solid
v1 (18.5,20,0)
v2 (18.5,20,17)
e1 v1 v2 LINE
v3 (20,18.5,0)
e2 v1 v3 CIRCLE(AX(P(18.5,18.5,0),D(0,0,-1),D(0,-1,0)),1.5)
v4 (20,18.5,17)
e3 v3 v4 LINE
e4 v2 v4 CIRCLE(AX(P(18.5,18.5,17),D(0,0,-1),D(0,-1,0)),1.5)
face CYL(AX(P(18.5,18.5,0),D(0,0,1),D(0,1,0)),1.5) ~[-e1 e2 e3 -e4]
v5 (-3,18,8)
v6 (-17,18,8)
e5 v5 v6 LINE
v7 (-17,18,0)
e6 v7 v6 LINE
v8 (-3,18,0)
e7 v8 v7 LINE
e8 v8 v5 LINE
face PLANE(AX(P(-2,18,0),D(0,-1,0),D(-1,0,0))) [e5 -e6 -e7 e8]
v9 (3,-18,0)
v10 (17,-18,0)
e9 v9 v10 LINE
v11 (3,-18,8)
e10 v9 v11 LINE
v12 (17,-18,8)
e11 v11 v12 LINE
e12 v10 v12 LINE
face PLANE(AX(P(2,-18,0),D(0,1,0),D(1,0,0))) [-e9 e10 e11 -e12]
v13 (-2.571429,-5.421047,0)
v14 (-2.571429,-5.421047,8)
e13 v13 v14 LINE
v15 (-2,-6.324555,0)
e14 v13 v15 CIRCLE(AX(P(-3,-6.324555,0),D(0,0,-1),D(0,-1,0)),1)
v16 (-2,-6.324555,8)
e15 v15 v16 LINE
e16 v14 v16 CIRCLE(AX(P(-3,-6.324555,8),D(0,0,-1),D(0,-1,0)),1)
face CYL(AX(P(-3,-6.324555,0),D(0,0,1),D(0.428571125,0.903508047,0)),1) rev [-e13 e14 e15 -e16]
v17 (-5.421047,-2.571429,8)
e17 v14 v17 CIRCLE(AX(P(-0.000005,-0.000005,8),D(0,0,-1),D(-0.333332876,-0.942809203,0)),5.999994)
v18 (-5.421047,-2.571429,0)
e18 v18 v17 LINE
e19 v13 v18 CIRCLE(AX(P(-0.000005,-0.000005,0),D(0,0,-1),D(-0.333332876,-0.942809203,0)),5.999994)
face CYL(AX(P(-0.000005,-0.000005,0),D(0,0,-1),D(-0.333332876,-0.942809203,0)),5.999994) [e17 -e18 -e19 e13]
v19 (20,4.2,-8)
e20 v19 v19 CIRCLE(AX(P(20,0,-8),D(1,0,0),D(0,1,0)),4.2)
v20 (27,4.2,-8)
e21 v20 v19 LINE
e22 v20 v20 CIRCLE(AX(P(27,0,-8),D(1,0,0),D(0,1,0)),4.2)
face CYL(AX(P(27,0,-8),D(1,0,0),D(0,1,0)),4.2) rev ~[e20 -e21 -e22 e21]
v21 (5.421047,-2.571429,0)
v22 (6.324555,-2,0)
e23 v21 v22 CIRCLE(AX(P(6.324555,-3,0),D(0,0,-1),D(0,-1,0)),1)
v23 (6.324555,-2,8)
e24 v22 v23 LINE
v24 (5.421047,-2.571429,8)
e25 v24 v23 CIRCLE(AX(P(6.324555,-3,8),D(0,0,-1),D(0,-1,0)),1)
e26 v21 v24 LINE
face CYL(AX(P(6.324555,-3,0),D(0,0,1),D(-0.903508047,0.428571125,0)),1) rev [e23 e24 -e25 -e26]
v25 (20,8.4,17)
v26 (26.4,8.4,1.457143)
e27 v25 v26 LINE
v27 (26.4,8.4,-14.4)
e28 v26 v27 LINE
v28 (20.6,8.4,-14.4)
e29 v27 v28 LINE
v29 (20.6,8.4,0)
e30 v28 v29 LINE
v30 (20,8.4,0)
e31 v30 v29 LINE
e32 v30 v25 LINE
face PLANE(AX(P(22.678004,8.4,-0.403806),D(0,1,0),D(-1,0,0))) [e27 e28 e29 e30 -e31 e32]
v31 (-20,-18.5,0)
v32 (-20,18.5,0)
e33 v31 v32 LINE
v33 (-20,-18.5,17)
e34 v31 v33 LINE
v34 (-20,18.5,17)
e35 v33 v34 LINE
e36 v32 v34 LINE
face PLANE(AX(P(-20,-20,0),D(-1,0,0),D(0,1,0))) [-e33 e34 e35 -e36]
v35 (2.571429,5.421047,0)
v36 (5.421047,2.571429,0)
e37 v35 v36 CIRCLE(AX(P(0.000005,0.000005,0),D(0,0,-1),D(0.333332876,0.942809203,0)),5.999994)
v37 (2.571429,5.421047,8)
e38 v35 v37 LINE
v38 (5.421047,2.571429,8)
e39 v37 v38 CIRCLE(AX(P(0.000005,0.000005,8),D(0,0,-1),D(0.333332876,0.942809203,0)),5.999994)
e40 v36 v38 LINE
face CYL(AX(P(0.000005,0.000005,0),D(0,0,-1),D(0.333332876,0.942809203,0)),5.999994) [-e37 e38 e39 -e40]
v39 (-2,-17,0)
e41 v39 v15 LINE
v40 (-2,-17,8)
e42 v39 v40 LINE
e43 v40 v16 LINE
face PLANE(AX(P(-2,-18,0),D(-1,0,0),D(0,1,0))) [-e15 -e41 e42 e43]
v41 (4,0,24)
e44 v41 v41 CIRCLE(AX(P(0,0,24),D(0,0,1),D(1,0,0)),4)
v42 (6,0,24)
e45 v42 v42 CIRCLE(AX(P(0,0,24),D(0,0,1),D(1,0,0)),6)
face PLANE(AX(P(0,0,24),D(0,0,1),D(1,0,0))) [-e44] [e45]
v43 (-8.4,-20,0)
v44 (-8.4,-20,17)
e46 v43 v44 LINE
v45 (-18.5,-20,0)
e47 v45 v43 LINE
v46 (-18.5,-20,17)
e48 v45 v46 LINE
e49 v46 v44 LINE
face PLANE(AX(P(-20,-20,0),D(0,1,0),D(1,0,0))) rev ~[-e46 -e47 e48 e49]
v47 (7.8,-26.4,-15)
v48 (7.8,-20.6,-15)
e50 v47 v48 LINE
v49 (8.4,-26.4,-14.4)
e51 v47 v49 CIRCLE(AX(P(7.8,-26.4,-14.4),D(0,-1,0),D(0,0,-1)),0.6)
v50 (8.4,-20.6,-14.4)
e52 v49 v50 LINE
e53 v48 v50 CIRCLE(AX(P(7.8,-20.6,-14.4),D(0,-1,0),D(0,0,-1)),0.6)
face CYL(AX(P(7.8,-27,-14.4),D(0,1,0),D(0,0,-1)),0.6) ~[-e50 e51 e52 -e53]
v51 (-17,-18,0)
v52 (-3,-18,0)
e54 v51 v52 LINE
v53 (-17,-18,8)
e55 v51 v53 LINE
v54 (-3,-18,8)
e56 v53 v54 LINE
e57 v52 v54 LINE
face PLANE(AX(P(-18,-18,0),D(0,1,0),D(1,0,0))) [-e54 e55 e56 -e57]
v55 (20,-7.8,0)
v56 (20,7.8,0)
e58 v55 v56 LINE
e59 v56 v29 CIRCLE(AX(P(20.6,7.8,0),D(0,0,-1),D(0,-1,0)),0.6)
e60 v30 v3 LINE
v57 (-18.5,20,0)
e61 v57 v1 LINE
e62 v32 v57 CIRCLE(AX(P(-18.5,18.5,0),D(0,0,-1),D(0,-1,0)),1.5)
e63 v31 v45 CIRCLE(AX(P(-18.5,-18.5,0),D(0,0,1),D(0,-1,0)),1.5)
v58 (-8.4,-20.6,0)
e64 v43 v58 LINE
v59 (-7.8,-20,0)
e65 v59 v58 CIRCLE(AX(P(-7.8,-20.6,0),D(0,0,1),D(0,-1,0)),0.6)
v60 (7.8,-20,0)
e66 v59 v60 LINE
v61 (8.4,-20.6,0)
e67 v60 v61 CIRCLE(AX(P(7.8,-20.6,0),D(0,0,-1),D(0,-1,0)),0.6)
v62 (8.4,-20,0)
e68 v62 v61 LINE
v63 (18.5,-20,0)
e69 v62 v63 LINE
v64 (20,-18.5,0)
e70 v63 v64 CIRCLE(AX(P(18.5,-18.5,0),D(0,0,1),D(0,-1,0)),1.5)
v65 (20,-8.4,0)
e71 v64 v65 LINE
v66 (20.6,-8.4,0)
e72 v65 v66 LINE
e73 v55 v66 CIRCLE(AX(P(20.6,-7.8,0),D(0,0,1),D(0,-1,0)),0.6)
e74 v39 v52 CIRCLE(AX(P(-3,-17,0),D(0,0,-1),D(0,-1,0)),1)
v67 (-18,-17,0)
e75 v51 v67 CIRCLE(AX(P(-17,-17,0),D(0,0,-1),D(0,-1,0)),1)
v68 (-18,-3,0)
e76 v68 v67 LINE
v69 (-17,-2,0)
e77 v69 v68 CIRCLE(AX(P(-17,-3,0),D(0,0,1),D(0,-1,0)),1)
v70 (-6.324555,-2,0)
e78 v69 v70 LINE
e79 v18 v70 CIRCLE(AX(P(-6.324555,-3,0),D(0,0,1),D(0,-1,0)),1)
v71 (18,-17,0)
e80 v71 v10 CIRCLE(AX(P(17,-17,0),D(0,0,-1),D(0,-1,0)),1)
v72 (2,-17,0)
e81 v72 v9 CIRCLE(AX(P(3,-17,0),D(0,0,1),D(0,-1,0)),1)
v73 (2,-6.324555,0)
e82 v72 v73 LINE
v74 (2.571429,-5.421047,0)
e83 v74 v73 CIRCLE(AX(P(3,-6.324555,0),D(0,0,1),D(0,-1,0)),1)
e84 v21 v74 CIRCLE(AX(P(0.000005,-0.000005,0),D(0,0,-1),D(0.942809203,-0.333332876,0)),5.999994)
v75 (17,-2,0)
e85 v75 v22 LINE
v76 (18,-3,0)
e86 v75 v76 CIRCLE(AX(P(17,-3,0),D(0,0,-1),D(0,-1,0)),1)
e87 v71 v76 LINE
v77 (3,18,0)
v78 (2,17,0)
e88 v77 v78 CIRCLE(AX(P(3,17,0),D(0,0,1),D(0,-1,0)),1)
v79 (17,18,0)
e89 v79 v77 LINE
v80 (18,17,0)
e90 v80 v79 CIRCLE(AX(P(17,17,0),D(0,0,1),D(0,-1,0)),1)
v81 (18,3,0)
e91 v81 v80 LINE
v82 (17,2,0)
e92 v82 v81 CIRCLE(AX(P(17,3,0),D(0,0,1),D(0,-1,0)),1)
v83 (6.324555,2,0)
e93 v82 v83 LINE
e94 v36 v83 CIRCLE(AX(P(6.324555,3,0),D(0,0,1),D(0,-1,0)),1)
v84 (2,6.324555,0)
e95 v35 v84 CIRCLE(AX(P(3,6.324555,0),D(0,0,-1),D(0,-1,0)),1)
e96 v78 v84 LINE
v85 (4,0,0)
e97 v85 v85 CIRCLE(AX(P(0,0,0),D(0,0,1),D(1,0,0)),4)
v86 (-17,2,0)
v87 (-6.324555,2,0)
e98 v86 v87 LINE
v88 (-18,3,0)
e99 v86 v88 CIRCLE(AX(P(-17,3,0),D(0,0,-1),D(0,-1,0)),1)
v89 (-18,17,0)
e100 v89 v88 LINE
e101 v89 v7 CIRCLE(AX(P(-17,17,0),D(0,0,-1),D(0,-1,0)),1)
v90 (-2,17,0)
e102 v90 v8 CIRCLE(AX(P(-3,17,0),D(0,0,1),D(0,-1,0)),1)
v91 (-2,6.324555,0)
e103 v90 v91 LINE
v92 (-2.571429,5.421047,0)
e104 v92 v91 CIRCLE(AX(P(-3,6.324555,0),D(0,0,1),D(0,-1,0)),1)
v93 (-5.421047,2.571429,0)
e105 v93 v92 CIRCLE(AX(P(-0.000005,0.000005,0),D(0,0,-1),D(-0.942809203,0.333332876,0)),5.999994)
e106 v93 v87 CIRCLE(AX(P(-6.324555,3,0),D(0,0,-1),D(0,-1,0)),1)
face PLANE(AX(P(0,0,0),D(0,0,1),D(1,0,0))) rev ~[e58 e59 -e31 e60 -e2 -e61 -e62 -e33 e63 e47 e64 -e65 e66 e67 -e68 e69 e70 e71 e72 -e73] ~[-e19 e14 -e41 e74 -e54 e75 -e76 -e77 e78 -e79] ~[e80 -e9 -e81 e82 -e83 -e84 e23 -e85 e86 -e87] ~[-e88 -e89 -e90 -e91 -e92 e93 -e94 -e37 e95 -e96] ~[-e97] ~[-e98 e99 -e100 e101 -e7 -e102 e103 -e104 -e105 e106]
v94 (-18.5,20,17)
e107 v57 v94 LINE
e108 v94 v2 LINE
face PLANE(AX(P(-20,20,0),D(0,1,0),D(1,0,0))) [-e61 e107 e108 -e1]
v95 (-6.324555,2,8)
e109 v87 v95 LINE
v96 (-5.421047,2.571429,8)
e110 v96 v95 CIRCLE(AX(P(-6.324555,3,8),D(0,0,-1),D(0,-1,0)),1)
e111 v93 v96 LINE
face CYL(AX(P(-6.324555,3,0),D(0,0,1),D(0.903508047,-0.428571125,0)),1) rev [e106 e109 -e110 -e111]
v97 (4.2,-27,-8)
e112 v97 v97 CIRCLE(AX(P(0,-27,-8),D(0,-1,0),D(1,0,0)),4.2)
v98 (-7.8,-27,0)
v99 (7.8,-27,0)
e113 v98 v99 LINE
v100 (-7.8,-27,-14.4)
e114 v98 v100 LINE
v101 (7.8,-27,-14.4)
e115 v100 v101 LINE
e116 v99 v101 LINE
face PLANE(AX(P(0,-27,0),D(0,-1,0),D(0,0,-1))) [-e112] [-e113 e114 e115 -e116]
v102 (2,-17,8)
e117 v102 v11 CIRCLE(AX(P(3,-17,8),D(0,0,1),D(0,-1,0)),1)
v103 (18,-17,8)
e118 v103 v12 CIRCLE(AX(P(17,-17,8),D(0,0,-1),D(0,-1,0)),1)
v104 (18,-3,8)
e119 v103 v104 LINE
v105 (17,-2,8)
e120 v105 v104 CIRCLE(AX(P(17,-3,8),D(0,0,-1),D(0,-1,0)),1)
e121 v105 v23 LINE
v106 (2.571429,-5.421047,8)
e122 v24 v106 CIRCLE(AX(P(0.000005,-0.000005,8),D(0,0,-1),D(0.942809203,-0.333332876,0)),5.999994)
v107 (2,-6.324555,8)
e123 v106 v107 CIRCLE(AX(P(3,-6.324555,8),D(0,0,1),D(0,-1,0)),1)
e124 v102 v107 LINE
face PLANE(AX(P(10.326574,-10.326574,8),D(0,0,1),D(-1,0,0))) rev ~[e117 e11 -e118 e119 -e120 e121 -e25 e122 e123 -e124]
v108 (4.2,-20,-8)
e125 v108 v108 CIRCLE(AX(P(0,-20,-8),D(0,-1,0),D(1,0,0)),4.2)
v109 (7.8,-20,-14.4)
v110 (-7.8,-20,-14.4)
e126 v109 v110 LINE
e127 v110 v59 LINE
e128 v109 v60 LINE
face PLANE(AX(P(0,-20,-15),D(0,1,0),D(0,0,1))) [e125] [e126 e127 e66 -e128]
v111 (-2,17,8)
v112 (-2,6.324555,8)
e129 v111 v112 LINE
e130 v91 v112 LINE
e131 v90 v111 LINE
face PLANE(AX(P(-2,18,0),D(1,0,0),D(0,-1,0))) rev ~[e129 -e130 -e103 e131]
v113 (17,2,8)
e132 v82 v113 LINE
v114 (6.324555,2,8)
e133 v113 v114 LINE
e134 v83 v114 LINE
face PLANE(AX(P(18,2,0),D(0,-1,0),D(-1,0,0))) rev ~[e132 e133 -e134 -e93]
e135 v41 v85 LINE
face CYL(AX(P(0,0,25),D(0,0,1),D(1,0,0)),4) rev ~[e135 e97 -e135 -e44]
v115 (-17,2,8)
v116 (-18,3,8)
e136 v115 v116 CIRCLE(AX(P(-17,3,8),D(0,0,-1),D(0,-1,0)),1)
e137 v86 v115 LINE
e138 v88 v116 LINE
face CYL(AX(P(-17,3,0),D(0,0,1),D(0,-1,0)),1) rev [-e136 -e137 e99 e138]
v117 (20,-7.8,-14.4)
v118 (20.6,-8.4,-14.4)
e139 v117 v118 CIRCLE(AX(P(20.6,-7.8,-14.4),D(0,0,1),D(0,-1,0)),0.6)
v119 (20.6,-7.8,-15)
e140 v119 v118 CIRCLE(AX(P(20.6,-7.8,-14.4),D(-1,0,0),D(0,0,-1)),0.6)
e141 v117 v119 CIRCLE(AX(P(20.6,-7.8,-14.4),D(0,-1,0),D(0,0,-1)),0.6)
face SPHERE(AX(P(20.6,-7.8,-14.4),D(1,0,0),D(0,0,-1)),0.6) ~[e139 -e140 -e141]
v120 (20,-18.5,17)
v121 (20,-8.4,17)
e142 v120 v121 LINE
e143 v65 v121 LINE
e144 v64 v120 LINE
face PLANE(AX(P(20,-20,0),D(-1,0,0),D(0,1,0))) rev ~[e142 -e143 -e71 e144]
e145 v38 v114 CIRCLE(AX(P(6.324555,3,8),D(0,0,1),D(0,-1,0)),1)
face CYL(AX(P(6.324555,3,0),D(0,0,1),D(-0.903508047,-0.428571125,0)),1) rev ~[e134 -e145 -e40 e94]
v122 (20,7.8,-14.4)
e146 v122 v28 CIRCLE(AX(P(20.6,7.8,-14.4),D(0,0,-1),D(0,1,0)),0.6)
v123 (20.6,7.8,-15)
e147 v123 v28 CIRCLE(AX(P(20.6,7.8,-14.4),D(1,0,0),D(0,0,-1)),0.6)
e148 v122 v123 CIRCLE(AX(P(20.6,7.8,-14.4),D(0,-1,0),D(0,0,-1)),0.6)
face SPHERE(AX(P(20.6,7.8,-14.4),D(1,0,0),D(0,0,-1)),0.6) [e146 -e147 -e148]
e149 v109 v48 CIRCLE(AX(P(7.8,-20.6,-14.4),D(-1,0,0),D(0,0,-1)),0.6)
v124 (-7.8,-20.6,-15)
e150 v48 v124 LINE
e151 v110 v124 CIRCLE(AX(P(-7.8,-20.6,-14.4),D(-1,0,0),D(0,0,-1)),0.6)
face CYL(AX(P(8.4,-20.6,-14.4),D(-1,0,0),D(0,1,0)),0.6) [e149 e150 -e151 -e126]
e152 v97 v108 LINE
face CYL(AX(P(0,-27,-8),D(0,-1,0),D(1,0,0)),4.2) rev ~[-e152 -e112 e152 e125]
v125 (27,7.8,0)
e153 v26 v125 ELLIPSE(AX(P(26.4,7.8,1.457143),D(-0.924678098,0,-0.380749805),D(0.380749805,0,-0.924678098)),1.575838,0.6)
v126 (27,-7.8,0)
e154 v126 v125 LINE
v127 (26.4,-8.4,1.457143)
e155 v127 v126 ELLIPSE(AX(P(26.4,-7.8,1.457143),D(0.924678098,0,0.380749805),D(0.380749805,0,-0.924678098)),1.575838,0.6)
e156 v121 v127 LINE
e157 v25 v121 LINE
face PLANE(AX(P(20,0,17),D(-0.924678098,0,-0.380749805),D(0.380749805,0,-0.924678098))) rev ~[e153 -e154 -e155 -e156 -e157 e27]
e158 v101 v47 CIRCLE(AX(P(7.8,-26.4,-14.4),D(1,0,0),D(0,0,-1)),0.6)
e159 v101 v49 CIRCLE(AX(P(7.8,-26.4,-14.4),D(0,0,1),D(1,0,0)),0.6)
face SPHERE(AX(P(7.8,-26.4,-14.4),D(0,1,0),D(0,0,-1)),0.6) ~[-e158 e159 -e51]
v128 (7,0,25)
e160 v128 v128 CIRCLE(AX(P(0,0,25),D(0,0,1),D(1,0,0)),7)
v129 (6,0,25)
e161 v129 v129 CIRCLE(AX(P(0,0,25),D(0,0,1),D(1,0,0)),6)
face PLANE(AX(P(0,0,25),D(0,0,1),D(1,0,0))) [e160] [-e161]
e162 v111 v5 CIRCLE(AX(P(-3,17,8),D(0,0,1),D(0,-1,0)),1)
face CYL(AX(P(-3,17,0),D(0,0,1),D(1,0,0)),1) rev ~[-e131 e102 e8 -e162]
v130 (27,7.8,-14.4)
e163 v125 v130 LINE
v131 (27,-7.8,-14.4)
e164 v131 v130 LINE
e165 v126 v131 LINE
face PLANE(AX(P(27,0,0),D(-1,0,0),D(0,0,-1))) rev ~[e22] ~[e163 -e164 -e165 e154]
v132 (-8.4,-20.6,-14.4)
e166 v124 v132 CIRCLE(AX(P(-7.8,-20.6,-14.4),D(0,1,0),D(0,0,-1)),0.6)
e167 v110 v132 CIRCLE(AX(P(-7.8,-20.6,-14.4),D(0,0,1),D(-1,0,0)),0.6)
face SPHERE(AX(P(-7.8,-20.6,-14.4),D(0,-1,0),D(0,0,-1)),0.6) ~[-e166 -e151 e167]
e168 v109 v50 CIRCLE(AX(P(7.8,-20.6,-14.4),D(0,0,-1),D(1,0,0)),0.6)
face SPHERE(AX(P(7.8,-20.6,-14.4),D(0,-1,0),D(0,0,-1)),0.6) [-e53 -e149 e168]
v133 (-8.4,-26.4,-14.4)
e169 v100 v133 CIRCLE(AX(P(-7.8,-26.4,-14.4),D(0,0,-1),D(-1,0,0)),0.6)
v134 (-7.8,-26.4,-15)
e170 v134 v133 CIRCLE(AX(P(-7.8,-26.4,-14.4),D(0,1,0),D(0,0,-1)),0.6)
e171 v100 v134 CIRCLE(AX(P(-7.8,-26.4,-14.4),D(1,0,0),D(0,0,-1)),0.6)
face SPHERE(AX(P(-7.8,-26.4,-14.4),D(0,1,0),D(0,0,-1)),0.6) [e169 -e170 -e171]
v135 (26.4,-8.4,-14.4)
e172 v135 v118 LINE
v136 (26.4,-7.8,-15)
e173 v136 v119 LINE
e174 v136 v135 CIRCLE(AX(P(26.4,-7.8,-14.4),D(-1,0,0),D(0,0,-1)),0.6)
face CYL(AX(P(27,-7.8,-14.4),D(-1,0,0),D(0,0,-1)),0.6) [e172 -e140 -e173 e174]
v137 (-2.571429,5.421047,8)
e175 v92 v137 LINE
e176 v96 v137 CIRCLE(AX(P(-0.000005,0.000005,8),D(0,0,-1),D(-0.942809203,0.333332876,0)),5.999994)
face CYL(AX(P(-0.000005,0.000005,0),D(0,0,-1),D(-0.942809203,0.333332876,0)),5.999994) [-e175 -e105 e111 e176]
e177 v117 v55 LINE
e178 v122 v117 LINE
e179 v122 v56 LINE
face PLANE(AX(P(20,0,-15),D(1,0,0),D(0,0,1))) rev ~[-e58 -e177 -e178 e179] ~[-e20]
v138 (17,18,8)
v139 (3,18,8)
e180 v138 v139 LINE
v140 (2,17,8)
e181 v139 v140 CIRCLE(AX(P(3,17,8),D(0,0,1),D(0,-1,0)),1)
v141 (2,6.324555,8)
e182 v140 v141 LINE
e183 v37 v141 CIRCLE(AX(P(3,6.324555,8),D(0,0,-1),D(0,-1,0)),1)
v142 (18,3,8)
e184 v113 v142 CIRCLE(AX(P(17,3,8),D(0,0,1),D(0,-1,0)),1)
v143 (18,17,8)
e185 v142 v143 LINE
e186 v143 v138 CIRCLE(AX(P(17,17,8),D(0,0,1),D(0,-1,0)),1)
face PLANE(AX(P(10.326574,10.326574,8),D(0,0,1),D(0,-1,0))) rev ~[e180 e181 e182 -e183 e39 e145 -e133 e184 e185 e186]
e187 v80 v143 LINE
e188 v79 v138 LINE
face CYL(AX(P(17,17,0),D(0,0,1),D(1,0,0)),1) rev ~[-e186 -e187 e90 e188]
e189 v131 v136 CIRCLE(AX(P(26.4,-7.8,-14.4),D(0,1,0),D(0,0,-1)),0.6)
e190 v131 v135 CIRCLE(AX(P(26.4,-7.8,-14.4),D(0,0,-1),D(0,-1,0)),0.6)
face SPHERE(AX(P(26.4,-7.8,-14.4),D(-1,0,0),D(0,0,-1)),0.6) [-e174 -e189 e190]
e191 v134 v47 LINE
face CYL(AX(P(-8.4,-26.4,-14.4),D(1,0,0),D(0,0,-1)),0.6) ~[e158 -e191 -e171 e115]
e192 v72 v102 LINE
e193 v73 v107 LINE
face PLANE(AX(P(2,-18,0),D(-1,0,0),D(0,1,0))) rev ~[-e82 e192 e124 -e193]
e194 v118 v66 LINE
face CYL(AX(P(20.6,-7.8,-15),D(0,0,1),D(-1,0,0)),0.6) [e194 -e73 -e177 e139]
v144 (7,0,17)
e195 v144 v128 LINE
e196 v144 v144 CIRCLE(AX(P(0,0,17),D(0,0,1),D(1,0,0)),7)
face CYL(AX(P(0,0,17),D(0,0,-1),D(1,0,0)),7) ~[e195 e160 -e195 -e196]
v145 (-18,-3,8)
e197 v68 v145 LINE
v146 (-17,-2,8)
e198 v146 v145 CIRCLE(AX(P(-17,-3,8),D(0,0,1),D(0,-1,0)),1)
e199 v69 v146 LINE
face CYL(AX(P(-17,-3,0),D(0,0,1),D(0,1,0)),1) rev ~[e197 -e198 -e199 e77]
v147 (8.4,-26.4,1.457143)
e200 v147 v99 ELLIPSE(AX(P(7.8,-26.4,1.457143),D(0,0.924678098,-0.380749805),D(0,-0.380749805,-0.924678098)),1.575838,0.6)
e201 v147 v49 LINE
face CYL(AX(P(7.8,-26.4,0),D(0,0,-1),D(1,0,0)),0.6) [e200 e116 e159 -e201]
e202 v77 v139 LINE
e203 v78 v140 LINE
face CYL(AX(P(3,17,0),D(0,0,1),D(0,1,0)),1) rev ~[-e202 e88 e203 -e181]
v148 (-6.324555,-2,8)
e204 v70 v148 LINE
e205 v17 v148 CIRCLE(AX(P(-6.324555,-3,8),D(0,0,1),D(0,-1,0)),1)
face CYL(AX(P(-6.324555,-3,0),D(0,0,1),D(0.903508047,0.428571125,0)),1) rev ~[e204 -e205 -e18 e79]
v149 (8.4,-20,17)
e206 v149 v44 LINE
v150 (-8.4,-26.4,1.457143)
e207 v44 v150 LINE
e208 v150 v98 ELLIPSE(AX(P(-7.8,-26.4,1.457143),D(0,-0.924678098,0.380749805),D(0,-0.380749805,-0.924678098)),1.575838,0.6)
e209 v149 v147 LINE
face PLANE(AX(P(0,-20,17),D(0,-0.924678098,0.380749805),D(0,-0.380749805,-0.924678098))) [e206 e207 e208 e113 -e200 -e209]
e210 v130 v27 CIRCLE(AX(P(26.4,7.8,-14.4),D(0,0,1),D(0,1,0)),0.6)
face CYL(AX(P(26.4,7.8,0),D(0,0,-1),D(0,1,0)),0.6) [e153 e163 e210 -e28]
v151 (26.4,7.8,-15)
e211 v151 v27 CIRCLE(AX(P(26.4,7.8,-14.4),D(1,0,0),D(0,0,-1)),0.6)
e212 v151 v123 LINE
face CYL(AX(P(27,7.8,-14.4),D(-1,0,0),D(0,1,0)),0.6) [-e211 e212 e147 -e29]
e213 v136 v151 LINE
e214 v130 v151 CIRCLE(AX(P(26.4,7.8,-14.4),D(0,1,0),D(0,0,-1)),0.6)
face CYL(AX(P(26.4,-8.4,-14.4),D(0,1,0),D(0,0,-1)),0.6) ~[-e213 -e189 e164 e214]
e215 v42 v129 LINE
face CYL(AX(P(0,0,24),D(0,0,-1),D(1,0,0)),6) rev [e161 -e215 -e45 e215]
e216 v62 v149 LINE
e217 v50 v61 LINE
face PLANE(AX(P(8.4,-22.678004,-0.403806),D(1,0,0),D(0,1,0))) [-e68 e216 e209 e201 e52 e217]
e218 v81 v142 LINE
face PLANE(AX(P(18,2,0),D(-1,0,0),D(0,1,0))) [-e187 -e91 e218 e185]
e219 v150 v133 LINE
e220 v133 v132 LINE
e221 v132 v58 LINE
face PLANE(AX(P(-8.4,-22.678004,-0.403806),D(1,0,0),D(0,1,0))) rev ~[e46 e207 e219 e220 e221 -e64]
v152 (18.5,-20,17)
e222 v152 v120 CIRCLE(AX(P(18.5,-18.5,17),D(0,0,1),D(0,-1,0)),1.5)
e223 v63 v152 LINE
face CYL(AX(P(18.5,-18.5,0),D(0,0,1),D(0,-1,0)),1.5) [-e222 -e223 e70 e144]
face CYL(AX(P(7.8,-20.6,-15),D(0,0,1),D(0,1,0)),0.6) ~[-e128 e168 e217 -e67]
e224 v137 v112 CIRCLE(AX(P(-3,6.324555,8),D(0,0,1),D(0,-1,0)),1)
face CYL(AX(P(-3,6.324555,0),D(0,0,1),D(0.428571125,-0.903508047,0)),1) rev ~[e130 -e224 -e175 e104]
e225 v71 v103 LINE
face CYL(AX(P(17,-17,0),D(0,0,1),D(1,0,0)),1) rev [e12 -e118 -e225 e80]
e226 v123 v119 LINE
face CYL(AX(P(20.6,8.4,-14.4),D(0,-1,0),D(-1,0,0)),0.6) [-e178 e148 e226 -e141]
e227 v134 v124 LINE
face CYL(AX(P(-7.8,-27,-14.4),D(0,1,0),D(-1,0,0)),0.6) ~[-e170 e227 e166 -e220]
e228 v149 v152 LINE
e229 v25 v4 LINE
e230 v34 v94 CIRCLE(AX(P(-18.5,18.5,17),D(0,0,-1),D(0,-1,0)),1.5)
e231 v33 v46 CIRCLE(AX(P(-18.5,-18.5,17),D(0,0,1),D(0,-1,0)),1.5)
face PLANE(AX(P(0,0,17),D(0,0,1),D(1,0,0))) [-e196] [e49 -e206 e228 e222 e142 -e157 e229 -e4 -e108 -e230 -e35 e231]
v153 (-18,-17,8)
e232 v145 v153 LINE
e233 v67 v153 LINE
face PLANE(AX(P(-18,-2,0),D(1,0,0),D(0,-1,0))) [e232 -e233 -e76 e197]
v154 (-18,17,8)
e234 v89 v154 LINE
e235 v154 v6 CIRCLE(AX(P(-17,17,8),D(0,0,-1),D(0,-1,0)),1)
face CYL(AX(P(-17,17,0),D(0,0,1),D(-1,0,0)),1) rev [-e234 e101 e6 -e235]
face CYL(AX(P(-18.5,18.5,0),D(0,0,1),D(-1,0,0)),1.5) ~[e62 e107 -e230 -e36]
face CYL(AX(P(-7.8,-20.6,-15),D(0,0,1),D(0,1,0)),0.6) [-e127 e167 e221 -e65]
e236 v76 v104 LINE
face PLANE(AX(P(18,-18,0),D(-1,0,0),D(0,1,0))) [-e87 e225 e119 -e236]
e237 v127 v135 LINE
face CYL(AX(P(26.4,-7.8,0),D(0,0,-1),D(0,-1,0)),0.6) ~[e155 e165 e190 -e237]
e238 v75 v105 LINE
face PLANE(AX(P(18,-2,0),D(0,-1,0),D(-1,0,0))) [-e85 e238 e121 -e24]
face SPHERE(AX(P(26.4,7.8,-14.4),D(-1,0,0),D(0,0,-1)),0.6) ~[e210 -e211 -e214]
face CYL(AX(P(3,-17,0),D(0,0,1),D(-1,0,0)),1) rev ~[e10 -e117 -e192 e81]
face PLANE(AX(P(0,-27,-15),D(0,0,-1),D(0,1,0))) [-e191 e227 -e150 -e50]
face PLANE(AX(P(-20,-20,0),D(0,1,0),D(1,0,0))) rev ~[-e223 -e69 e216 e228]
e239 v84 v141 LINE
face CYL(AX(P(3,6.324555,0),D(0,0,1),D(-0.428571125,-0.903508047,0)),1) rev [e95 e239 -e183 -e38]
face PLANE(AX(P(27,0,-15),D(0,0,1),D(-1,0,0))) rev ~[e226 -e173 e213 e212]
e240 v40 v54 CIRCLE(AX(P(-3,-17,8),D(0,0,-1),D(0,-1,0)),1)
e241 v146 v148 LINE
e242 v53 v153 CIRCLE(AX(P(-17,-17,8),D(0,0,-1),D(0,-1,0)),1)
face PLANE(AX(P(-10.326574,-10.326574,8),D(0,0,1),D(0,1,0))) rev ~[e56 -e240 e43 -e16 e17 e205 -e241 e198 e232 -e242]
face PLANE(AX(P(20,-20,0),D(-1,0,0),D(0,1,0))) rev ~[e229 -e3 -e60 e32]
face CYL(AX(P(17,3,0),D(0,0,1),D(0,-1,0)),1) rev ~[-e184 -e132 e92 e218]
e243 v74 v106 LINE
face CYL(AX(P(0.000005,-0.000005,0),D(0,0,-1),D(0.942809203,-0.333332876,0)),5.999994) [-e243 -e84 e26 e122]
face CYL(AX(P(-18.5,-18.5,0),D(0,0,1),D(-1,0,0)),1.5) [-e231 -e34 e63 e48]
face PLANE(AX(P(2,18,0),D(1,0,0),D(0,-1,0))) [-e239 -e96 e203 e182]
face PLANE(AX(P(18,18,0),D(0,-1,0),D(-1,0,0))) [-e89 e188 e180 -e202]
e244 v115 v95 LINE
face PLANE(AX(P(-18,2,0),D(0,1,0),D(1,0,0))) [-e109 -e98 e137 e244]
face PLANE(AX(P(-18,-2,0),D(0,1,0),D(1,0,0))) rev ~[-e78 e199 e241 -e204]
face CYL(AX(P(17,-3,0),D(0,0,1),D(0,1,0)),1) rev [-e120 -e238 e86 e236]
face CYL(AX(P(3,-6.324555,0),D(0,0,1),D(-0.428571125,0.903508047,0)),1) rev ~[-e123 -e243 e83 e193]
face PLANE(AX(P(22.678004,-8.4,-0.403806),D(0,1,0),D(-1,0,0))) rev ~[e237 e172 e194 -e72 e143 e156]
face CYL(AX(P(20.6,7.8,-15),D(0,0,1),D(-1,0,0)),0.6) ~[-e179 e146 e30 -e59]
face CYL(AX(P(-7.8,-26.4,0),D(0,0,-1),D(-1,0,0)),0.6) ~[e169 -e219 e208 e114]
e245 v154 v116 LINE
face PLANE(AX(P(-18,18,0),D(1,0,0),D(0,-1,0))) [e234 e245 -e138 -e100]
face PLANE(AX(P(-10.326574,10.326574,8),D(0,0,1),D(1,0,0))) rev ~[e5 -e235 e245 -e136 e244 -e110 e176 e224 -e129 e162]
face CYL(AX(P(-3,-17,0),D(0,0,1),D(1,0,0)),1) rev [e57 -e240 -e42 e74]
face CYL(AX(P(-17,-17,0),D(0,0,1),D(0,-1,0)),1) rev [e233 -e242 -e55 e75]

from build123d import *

# Parameters (mm, degrees)
SKETCH_W           = 40
SKETCH_H           = 40
PAD_DEPTH          = 17
SKETCH001_R        = 7
PAD001_DEPTH       = 8
SKETCH002_R        = 4
POCKET_DEPTH       = 25
CYLINDER_R         = 6
CYLINDER_DEPTH     = 1
PAD002_DEPTH       = 8.4
SKETCH004_R        = 4.2
POCKET001_DEPTH    = 7
PAD003_DEPTH       = 8.4
SKETCH006_R        = 4.2
POCKET002_DEPTH    = 7
POCKET003_DEPTH    = 8
POLARPATTERN_COUNT = 4
FILLET_R           = 1
FILLET001_R        = 1.5
FILLET002_R        = 0.6


with BuildPart() as part:
    # Sketch → Pad (new body)
    with BuildSketch(Plane.XY):
        Rectangle(SKETCH_W, SKETCH_H)
    extrude(amount=PAD_DEPTH)

    # Sketch001 (on Face6 of Pad) → Pad001 (join)
    with BuildSketch(Plane.XY.offset(17)):
        Circle(SKETCH001_R)
    extrude(amount=PAD001_DEPTH)

    # Sketch002 (on Face8 of Pad001) → Pocket (cut)
    with BuildSketch(Plane.XY.offset(25)):
        Circle(SKETCH002_R)
    extrude(amount=-POCKET_DEPTH, mode=Mode.SUBTRACT)

    # Cylinder → Cylinder (cut)
    with BuildSketch(Plane.XY.offset(24)):
        Circle(CYLINDER_R)
    extrude(amount=CYLINDER_DEPTH, mode=Mode.SUBTRACT)

    # Sketch003 → Pad002 (join, symmetric)
    with BuildSketch(Plane.XZ):
        Polygon((20, 17), (27, 0), (27, -15), (20, -15), align=None)
    extrude(amount=PAD002_DEPTH, both=True)

    # Sketch004 (on Face16 of Pad002) → Pocket001 (cut)
    with BuildSketch(Plane(origin=(27, 0, 24), x_dir=(0, 1, 0), z_dir=(1, 0, 0))):
        with Locations((0, -32)):
            Circle(SKETCH004_R)
    extrude(amount=-POCKET001_DEPTH, mode=Mode.SUBTRACT)

    # Sketch005 → Pad003 (join, symmetric)
    with BuildSketch(Plane.YZ):
        Polygon((-20, 17), (-27, 0), (-27, -15), (-20, -15), align=None)
    extrude(amount=PAD003_DEPTH, both=True)

    # Sketch006 (on Face17 of Pad003) → Pocket002 (cut)
    with BuildSketch(Plane(origin=(0, -27, 24), x_dir=(1, 0, 0), z_dir=(0, -1, 0))):
        with Locations((0, -32)):
            Circle(SKETCH006_R)
    extrude(amount=-POCKET002_DEPTH, mode=Mode.SUBTRACT)

    # Sketch007 (on Face4 of Pocket002) → Pocket003 (cut)
    with BuildSketch(Plane(origin=(0, 0, 0), x_dir=(1, 0, 0), z_dir=(0, 0, -1))):
        with BuildLine():
            ThreePointArc((5.656854, 2), (4.242641, 4.242641), (2, 5.656854))
            Line((2, 18), (2, 5.656854))
            Line((2, 18), (18, 18))
            Line((18, 18), (18, 2))
            Line((18, 2), (5.656854, 2))
        make_face()
    pocket003 = extrude(amount=-POCKET003_DEPTH, mode=Mode.SUBTRACT)

    # PolarPattern: Pocket003 ×4 about axis
    polarpattern_axis = Axis((0, 0, 0), (0, 0, -1))
    for i in range(1, POLARPATTERN_COUNT):
        add(pocket003.rotate(polarpattern_axis, i * 360 / POLARPATTERN_COUNT), mode=Mode.SUBTRACT)

    # Fillet
    fillet_edges = [part.edges().sort_by_distance(p)[0] for p in [
        (5.656854, -2, 4),
        (2, -5.656854, 4),
        (2, -18, 4),
        (18, -18, 4),
        (18, -2, 4),
        (5.656854, 2, 4),
        (18, 2, 4),
        (18, 18, 4),
        (2, 18, 4),
        (2, 5.656854, 4),
        (-2, 5.656854, 4),
        (-18, 2, 4),
        (-18, 18, 4),
        (-2, 18, 4),
        (-5.656854, 2, 4),
        (-5.656854, -2, 4),
        (-2, -5.656854, 4),
        (-2, -18, 4),
        (-18, -18, 4),
        (-18, -2, 4),
    ]]
    fillet(fillet_edges, radius=FILLET_R)

    # Fillet001
    fillet001_edges = [part.edges().sort_by_distance(p)[0] for p in [
        (20, 20, 8.5),
        (-20, 20, 8.5),
        (-20, -20, 8.5),
        (20, -20, 8.5),
    ]]
    fillet(fillet001_edges, radius=FILLET001_R)

    # Fillet002
    fillet002_edges = [part.edges().sort_by_distance(p)[0] for p in [
        (23.5, -8.4, -15),
        (23.5, 8.4, -15),
        (8.4, -23.5, -15),
        (-8.4, -23.5, -15),
        (0, -27, -15),
        (0, -20, -15),
        (27, 0, -15),
        (20, 0, -15),
        (27, -8.4, -7.5),
        (20, -8.4, -7.5),
        (27, 8.4, -7.5),
        (20, 8.4, -7.5),
        (8.4, -20, -7.5),
        (8.4, -27, -7.5),
        (-8.4, -20, -7.5),
        (-8.4, -27, -7.5),
    ]]
    fillet(fillet002_edges, radius=FILLET002_R)


solid = part.part
